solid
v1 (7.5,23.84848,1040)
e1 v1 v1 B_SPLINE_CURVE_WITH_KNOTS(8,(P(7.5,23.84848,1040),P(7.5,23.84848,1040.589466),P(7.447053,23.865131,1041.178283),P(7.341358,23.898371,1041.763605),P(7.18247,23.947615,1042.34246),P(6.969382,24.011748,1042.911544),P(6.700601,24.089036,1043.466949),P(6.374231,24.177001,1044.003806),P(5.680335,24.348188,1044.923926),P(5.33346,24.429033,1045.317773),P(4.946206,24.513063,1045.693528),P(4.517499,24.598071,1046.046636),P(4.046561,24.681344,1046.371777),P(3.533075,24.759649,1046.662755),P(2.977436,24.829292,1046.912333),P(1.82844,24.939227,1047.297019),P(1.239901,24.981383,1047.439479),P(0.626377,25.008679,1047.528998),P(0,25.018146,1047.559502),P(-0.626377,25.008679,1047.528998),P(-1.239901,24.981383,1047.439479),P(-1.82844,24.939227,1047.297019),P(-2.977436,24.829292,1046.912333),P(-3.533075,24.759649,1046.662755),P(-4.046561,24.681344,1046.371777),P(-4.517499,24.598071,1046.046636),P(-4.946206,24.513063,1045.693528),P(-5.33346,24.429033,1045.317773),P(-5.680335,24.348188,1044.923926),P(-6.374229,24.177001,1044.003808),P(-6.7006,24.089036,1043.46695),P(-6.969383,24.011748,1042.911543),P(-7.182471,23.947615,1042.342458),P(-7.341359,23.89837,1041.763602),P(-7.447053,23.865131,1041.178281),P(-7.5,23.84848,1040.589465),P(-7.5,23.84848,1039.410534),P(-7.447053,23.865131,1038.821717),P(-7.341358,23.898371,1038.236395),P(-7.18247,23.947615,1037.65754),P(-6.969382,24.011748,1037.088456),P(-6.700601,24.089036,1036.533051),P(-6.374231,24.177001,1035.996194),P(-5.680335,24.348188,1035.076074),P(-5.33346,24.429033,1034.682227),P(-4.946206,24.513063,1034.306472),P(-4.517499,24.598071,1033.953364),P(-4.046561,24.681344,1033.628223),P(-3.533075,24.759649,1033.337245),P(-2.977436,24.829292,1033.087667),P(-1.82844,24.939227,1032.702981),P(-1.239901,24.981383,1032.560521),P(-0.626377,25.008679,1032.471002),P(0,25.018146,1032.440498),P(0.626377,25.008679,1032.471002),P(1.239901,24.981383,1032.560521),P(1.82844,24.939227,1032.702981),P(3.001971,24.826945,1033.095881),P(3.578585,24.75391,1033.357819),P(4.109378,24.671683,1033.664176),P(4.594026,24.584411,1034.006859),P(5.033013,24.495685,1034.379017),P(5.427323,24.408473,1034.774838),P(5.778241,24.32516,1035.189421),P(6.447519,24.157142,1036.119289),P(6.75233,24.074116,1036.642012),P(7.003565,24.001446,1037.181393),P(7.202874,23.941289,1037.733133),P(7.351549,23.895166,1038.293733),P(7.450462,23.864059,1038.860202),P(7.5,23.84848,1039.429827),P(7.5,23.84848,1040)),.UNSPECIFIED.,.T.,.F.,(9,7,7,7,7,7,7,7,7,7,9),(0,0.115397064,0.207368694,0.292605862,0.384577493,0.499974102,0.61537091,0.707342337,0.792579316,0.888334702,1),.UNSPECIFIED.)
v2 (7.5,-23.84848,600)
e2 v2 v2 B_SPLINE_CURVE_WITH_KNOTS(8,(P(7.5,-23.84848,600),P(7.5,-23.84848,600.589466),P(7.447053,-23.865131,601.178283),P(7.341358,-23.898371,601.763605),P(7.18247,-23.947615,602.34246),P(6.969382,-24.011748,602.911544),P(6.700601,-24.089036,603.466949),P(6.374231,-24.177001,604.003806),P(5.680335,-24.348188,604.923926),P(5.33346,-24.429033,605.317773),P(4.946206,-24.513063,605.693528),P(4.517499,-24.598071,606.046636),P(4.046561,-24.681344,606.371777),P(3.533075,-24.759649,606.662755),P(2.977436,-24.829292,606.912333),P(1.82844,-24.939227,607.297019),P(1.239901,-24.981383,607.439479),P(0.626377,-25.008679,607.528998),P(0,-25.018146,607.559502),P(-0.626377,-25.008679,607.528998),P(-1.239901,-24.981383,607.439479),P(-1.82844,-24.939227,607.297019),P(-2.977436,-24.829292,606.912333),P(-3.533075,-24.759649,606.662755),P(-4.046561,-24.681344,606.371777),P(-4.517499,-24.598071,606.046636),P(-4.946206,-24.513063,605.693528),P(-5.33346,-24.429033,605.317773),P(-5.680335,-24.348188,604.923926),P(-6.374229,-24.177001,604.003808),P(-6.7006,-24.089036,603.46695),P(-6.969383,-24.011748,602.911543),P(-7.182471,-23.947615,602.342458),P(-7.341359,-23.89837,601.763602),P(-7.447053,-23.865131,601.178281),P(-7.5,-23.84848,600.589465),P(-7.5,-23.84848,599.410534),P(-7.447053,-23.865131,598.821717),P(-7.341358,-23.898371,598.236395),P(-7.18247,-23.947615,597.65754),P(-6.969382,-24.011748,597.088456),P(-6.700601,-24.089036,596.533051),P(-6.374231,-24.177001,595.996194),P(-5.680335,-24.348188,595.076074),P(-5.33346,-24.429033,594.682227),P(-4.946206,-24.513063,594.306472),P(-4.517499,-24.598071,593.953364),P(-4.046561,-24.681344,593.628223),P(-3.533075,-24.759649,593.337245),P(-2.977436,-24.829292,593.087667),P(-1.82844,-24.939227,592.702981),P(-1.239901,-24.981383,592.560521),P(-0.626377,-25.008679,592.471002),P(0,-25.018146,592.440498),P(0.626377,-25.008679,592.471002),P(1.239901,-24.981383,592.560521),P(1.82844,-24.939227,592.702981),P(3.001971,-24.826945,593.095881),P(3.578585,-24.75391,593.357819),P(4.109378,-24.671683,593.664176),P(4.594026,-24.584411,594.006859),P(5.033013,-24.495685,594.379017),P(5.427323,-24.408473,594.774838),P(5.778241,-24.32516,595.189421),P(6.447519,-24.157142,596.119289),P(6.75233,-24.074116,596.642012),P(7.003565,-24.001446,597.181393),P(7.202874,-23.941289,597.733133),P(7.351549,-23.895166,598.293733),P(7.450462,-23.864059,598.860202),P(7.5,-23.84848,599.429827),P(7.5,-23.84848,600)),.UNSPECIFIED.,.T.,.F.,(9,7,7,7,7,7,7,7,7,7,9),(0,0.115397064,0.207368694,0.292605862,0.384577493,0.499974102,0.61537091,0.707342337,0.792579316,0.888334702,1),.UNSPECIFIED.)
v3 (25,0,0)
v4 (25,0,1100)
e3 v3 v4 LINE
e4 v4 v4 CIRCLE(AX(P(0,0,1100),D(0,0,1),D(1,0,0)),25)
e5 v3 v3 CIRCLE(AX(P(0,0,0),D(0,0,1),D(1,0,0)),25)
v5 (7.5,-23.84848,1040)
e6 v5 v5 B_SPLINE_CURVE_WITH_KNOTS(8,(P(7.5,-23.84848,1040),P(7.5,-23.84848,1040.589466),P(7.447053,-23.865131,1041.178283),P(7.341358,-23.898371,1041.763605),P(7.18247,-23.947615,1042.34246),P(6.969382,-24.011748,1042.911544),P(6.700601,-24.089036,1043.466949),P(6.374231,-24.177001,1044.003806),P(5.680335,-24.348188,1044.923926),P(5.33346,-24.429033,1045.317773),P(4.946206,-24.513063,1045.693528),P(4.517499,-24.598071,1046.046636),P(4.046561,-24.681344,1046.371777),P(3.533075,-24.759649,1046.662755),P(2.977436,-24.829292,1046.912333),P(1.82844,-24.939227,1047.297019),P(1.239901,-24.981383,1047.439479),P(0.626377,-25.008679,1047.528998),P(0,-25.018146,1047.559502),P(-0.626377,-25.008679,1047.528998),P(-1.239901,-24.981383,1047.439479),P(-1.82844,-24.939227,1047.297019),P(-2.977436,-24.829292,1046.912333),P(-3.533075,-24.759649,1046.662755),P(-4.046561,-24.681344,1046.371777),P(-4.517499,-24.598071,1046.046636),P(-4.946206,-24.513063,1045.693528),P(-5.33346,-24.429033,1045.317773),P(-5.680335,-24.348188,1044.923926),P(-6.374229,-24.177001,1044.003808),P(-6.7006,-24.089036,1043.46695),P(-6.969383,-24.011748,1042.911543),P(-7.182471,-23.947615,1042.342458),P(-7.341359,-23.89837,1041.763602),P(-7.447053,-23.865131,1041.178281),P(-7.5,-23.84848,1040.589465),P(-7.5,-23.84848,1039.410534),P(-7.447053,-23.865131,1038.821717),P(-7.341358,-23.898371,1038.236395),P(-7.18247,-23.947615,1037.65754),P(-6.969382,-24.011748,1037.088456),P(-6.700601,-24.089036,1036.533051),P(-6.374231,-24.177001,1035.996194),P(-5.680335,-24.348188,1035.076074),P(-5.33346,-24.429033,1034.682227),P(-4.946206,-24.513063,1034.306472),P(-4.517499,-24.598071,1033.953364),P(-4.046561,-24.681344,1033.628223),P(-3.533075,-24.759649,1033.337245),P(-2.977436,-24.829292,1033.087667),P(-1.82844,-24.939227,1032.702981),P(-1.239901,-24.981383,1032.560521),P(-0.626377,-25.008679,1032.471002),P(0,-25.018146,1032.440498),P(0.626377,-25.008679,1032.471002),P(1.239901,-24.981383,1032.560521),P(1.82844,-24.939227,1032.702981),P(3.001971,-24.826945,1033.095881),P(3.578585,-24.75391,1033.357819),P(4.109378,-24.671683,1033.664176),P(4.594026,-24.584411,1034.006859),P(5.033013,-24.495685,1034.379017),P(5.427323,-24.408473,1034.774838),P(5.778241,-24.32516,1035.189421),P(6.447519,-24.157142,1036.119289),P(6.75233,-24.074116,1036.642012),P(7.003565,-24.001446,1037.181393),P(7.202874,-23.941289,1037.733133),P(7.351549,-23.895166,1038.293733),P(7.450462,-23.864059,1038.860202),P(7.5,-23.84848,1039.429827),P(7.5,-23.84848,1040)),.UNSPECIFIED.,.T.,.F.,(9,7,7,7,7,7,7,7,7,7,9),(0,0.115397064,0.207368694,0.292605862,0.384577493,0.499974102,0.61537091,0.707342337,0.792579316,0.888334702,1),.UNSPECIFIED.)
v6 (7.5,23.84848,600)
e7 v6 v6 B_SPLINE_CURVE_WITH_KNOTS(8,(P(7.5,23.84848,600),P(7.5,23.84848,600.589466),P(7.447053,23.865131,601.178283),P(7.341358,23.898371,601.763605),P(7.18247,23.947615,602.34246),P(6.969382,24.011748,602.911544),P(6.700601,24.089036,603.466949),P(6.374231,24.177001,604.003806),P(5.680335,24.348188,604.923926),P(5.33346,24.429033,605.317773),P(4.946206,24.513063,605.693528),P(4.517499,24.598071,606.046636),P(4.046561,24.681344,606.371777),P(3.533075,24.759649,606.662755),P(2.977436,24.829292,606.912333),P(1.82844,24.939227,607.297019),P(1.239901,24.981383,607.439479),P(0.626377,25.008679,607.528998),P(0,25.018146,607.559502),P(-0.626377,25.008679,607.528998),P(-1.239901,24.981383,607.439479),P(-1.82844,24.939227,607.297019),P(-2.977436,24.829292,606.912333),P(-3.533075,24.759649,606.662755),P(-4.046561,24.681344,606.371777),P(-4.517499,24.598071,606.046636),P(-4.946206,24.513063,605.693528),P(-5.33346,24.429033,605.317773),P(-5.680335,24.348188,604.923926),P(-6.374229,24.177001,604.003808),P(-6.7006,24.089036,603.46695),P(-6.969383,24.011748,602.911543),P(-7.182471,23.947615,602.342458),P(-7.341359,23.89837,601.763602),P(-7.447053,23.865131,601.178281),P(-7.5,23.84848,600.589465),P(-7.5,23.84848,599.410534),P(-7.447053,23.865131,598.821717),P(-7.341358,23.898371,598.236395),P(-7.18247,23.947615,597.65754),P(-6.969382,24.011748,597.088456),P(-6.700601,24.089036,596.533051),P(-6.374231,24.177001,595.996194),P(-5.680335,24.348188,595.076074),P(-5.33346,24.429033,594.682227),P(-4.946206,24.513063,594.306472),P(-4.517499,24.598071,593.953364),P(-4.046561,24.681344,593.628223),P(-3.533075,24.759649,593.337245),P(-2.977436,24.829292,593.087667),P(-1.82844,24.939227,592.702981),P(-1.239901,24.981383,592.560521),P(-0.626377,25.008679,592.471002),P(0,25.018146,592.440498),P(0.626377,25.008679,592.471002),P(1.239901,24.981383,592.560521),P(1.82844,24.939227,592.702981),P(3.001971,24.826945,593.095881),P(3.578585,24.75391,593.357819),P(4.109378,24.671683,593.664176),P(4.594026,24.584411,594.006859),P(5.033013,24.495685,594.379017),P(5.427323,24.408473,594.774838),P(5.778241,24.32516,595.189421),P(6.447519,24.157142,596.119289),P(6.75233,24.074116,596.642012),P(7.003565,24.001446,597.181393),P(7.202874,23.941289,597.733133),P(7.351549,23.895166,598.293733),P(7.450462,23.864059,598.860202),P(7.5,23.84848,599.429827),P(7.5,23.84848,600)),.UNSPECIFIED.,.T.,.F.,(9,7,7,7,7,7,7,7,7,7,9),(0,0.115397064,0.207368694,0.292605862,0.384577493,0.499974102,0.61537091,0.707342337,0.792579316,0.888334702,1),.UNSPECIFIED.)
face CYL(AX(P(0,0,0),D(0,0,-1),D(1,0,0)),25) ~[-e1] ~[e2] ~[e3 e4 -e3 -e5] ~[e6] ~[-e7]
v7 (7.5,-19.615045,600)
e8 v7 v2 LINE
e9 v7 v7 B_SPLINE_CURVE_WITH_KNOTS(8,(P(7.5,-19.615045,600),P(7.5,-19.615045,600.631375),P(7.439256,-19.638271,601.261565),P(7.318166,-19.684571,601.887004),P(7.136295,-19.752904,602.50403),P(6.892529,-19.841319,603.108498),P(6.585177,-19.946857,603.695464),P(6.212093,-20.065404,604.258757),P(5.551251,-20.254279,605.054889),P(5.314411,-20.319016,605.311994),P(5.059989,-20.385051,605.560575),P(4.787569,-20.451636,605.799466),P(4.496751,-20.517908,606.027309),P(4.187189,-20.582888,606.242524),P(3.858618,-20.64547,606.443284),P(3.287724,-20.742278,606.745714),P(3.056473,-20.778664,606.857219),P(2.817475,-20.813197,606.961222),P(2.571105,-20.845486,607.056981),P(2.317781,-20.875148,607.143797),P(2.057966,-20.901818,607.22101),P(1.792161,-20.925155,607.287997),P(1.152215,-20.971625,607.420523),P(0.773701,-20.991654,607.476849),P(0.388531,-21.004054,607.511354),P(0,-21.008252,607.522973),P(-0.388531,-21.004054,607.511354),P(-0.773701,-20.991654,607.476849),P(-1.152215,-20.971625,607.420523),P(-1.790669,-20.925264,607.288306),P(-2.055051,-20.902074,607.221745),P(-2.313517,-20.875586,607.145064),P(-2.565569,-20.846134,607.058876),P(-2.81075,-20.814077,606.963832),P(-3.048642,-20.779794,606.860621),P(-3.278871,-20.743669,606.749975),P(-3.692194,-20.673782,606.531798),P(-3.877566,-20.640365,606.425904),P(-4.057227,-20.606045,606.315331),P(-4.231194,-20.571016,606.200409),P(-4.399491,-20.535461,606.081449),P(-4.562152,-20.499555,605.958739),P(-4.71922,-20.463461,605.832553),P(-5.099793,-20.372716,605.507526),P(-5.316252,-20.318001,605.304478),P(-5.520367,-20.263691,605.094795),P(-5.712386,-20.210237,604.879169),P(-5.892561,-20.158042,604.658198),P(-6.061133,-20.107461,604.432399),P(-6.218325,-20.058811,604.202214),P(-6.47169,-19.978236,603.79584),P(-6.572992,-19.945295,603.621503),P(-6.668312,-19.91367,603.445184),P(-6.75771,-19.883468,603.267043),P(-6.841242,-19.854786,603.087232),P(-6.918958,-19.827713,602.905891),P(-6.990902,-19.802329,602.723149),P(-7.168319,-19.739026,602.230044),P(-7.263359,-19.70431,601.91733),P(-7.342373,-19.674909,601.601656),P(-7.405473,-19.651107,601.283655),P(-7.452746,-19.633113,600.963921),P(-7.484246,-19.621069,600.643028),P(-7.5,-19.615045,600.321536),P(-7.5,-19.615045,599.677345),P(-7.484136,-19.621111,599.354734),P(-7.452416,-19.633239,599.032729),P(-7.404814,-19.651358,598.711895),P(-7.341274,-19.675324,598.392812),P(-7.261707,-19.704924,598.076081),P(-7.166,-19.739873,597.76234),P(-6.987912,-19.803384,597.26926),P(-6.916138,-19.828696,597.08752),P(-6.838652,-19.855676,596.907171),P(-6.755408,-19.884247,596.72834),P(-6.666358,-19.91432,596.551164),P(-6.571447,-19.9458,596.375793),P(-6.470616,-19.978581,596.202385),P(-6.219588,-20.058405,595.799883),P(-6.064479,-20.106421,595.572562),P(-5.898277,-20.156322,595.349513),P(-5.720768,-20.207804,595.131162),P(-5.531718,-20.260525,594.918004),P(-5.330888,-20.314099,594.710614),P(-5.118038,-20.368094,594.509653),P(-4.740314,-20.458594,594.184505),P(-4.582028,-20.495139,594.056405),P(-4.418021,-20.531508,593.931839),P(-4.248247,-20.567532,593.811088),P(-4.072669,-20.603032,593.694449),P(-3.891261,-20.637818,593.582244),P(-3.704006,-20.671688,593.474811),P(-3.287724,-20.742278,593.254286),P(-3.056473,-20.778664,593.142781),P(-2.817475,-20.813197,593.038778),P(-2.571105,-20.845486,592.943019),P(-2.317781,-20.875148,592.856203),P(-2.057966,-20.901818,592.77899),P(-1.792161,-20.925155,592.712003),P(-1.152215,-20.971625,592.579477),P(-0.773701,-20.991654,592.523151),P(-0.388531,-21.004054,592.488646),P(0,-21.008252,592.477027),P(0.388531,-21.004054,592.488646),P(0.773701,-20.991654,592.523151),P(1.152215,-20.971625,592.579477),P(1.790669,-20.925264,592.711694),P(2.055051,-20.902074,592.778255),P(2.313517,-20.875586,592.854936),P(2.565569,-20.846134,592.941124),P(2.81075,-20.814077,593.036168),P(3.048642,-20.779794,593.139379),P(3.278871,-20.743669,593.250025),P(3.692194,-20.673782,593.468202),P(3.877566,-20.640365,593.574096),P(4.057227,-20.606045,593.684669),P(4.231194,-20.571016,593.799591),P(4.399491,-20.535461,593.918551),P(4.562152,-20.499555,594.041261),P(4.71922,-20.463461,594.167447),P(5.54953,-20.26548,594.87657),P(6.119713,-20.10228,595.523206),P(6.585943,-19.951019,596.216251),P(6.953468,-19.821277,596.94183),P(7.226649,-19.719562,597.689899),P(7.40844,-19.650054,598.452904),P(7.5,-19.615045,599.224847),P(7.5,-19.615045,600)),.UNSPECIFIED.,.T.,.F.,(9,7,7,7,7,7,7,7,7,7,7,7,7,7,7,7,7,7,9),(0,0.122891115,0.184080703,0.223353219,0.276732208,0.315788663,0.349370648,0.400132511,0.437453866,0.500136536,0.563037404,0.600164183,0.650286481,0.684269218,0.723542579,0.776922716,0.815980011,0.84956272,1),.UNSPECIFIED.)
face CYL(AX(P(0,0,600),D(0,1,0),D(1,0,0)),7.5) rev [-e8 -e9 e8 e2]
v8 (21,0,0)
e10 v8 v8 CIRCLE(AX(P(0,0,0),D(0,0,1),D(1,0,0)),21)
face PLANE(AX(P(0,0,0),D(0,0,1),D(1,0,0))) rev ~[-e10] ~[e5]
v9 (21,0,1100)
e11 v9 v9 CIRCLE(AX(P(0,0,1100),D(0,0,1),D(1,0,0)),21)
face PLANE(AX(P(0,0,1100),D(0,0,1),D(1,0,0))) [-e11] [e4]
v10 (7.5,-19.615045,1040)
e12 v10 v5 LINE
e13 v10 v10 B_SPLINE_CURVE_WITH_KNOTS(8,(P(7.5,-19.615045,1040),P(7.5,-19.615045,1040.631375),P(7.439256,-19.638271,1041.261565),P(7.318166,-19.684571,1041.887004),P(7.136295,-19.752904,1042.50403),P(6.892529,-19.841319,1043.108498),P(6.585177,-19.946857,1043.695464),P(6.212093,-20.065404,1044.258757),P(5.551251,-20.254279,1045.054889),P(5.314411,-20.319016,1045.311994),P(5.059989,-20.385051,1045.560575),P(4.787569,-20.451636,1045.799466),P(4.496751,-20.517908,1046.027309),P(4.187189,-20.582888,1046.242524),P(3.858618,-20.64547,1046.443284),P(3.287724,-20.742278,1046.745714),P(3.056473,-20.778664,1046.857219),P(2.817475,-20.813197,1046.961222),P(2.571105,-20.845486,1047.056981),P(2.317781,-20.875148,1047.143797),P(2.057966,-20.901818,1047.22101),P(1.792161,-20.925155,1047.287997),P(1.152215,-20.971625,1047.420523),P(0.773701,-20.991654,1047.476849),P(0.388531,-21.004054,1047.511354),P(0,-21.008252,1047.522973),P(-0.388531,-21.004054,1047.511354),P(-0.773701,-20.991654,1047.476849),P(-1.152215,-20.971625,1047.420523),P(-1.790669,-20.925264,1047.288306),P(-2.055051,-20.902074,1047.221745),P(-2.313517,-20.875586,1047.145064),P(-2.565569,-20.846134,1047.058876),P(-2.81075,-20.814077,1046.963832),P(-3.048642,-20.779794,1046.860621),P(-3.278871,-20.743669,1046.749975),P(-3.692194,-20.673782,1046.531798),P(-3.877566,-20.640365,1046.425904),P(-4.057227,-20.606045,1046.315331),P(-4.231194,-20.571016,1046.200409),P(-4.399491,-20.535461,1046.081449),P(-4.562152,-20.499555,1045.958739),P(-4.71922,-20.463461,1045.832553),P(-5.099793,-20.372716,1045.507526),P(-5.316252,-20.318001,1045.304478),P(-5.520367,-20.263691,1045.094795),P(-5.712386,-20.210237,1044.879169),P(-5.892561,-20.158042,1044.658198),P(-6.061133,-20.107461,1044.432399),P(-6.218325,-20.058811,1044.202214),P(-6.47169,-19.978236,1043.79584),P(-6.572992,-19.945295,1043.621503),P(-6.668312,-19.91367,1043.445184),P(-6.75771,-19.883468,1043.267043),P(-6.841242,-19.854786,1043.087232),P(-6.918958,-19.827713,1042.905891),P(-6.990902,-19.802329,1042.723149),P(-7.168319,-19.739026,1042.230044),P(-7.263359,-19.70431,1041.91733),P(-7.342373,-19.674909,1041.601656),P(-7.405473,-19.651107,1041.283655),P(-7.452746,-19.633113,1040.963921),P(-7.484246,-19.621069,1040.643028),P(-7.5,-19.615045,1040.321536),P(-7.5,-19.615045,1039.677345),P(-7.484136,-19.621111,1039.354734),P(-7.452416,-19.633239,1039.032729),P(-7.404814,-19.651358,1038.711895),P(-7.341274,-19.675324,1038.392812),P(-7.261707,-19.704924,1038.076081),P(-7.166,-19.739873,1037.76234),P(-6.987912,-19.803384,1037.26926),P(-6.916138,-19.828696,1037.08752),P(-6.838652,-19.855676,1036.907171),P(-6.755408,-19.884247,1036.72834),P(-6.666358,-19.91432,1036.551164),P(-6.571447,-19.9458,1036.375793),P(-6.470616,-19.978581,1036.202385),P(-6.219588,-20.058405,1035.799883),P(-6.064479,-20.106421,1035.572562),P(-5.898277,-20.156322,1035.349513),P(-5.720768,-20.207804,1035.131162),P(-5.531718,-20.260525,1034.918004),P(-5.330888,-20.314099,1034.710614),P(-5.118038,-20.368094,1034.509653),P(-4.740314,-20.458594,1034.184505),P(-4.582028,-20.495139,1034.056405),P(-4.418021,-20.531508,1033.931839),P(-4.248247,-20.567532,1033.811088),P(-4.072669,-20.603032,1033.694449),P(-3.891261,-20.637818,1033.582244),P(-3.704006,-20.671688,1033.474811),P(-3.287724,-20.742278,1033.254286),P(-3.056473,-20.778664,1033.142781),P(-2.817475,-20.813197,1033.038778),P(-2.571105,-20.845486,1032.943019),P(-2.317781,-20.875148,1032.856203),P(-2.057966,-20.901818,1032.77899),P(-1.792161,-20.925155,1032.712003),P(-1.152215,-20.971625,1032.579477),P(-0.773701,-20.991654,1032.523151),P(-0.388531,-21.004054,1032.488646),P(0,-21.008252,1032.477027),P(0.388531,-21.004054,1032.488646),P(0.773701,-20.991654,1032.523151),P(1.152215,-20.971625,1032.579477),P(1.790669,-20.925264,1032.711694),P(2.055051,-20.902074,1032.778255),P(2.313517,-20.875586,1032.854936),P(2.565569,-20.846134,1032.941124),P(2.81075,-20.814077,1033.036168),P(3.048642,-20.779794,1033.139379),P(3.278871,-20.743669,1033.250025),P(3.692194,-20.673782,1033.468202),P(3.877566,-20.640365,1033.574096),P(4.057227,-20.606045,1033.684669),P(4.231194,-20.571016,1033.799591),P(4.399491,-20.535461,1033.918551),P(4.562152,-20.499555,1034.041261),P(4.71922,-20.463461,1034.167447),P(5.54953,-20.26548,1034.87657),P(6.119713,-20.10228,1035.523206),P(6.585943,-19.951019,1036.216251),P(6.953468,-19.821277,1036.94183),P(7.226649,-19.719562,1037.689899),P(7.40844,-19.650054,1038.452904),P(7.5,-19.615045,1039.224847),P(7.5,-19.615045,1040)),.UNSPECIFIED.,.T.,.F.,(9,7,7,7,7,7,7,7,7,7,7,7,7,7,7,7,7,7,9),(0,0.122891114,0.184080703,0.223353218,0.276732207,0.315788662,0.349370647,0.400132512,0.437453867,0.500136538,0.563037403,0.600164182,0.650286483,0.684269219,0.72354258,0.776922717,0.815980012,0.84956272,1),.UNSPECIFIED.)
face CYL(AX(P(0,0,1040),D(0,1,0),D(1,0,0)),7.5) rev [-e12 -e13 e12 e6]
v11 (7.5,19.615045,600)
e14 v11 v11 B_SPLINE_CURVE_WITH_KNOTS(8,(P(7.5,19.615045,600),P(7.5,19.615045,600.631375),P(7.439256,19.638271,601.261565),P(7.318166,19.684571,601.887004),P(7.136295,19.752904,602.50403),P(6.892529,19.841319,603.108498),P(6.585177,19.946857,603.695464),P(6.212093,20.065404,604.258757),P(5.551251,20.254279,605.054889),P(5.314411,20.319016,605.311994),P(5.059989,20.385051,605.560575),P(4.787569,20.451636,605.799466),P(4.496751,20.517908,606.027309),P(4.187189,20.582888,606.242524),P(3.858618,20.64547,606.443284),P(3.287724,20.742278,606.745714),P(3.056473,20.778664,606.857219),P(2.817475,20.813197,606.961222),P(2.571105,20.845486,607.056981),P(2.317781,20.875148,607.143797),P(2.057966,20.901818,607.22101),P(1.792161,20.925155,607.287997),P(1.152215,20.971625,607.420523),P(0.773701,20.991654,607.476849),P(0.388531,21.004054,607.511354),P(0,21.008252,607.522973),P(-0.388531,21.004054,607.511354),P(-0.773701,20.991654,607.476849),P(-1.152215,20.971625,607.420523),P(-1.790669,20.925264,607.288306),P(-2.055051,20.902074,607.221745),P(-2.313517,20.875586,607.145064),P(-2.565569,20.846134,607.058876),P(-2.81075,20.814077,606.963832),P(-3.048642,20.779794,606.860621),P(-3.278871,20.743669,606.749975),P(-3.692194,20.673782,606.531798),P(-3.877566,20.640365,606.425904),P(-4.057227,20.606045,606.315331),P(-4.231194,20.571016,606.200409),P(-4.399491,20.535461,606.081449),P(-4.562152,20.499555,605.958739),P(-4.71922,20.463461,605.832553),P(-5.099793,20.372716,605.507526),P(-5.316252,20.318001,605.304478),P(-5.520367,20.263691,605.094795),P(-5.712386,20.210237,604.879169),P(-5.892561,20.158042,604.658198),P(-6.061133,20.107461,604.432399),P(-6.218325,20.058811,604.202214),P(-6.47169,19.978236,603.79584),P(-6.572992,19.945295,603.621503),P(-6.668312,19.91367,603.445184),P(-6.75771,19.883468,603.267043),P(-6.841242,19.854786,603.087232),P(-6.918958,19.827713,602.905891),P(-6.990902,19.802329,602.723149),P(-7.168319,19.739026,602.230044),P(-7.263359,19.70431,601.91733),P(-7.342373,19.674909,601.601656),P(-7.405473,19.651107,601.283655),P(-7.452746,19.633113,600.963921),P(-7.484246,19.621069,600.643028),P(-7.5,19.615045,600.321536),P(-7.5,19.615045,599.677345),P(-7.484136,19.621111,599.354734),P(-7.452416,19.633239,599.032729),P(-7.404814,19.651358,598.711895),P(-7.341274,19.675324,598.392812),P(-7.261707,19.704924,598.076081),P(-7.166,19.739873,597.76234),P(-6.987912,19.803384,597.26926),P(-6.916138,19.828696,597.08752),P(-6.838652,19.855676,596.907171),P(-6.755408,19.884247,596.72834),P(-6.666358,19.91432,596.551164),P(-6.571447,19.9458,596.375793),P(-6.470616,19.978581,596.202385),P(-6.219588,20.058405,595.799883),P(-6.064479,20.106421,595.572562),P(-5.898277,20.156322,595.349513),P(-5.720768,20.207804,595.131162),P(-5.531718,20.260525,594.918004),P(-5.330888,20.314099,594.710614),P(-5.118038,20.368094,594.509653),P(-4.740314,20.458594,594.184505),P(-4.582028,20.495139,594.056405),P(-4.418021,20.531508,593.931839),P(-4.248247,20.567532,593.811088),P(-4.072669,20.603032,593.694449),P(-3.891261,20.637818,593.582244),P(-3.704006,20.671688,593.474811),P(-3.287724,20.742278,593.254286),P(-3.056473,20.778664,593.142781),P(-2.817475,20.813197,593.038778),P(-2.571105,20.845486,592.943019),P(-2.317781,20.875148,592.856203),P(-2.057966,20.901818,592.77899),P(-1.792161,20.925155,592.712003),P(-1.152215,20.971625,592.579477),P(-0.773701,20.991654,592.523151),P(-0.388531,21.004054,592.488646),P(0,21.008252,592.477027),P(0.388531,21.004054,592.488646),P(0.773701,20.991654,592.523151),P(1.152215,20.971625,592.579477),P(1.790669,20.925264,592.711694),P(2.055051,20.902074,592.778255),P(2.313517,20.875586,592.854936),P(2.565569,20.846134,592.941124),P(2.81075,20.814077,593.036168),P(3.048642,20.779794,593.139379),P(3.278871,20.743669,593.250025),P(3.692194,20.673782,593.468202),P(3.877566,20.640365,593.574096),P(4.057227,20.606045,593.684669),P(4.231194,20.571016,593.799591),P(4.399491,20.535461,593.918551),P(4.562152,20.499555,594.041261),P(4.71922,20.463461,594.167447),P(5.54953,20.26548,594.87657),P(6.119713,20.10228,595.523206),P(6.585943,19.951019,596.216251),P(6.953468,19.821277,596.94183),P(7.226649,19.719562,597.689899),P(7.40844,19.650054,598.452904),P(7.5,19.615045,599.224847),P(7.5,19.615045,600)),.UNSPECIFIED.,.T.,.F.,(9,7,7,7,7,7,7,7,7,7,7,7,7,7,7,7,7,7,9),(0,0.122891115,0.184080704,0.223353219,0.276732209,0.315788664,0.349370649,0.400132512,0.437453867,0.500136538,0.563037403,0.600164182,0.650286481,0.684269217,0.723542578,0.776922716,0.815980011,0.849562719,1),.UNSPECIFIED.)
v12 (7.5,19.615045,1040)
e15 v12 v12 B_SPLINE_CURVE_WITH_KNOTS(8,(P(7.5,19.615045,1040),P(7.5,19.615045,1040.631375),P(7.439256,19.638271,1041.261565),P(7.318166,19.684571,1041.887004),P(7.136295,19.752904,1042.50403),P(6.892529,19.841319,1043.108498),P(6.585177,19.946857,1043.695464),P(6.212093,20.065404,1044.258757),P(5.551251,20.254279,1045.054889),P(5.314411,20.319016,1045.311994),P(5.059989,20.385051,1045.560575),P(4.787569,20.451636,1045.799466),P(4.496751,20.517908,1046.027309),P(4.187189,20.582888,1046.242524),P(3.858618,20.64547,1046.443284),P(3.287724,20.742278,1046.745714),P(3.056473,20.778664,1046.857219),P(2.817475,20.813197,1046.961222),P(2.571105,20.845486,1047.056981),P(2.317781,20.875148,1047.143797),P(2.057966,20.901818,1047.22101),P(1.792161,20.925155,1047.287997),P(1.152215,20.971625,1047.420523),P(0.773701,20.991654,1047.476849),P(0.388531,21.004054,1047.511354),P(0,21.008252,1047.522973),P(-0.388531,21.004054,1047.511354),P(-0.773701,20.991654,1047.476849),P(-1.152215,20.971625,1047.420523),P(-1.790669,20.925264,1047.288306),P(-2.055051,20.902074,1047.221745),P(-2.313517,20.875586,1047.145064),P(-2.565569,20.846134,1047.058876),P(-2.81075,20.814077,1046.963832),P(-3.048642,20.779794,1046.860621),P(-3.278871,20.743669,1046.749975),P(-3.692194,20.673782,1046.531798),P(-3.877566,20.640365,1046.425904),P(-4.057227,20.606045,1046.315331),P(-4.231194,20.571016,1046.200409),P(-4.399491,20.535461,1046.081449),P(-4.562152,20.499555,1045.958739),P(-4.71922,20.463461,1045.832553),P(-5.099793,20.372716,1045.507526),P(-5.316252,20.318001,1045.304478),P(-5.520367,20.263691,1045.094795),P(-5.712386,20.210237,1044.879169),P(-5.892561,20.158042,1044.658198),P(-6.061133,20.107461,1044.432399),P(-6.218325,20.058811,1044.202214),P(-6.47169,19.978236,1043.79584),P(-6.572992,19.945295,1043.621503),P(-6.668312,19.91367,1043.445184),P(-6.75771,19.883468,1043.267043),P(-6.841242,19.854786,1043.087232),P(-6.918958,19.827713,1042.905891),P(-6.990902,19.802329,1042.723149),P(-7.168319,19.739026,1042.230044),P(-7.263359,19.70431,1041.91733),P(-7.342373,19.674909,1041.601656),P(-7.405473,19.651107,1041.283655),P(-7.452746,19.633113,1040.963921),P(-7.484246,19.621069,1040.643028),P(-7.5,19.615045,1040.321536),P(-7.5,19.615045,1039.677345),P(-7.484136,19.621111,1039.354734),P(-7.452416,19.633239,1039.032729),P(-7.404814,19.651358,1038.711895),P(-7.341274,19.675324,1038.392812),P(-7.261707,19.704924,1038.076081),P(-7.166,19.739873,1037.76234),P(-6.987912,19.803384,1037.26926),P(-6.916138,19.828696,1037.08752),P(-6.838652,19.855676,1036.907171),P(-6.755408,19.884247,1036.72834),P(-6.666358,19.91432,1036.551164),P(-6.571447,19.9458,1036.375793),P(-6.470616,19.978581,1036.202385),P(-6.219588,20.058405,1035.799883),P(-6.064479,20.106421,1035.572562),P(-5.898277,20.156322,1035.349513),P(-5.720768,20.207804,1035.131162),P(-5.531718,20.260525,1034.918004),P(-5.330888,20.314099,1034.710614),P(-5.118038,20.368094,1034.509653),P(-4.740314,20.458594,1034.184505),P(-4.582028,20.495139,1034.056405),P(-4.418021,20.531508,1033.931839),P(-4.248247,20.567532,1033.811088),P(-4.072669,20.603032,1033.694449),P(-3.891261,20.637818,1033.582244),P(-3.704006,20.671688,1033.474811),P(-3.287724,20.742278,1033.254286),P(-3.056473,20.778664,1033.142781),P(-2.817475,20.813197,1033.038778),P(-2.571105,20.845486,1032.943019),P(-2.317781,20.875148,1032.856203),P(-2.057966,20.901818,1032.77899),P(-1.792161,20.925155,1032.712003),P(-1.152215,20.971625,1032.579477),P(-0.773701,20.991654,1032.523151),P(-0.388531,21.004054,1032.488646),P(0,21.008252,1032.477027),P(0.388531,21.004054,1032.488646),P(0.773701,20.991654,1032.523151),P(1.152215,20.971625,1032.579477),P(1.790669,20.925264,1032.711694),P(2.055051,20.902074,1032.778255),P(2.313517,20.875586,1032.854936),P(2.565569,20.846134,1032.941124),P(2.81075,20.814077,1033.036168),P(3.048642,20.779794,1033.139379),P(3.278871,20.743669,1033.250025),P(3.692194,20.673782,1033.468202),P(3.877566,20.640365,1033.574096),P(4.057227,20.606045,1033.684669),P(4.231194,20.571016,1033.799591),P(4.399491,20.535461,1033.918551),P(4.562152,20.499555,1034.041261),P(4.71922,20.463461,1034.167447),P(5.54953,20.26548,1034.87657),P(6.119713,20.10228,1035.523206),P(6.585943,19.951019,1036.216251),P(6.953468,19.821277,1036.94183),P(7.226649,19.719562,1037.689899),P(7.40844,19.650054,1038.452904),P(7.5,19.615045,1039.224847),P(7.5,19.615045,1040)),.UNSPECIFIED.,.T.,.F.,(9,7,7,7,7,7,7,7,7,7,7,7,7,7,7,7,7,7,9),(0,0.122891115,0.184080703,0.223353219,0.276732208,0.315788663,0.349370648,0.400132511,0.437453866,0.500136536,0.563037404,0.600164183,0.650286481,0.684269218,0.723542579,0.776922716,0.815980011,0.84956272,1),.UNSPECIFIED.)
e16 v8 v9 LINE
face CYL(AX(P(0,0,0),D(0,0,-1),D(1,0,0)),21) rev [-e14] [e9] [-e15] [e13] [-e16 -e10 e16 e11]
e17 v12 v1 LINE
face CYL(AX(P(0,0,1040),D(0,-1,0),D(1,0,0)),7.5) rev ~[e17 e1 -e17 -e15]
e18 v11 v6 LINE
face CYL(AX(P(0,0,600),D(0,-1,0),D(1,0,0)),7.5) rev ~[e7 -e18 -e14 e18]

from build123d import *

# Parameters (mm, degrees)
F0_R          = 25
F0_R_2        = 21
F1_DEPTH      = 1100
F2_R          = 7.5
F3_DEPTH      = 25.001
F3_DEPTH_BACK = 25.001


with BuildPart() as f1:
    # F0 (on Top) → F1 (new body)
    with BuildSketch(Plane.XY):
        Circle(F0_R)
        Circle(F0_R_2, mode=Mode.SUBTRACT)
    extrude(amount=F1_DEPTH)

    # F2 (on Front) → F3 (cut, two sides)
    with BuildSketch(Plane.XZ) as f3_sk:
        with Locations((0, 600)):
            Circle(F2_R)
        with Locations((0, 1040)):
            Circle(F2_R)
    extrude(amount=-F3_DEPTH, mode=Mode.SUBTRACT)
    extrude(f3_sk.sketch, amount=F3_DEPTH_BACK, mode=Mode.SUBTRACT)


solid = f1.part
